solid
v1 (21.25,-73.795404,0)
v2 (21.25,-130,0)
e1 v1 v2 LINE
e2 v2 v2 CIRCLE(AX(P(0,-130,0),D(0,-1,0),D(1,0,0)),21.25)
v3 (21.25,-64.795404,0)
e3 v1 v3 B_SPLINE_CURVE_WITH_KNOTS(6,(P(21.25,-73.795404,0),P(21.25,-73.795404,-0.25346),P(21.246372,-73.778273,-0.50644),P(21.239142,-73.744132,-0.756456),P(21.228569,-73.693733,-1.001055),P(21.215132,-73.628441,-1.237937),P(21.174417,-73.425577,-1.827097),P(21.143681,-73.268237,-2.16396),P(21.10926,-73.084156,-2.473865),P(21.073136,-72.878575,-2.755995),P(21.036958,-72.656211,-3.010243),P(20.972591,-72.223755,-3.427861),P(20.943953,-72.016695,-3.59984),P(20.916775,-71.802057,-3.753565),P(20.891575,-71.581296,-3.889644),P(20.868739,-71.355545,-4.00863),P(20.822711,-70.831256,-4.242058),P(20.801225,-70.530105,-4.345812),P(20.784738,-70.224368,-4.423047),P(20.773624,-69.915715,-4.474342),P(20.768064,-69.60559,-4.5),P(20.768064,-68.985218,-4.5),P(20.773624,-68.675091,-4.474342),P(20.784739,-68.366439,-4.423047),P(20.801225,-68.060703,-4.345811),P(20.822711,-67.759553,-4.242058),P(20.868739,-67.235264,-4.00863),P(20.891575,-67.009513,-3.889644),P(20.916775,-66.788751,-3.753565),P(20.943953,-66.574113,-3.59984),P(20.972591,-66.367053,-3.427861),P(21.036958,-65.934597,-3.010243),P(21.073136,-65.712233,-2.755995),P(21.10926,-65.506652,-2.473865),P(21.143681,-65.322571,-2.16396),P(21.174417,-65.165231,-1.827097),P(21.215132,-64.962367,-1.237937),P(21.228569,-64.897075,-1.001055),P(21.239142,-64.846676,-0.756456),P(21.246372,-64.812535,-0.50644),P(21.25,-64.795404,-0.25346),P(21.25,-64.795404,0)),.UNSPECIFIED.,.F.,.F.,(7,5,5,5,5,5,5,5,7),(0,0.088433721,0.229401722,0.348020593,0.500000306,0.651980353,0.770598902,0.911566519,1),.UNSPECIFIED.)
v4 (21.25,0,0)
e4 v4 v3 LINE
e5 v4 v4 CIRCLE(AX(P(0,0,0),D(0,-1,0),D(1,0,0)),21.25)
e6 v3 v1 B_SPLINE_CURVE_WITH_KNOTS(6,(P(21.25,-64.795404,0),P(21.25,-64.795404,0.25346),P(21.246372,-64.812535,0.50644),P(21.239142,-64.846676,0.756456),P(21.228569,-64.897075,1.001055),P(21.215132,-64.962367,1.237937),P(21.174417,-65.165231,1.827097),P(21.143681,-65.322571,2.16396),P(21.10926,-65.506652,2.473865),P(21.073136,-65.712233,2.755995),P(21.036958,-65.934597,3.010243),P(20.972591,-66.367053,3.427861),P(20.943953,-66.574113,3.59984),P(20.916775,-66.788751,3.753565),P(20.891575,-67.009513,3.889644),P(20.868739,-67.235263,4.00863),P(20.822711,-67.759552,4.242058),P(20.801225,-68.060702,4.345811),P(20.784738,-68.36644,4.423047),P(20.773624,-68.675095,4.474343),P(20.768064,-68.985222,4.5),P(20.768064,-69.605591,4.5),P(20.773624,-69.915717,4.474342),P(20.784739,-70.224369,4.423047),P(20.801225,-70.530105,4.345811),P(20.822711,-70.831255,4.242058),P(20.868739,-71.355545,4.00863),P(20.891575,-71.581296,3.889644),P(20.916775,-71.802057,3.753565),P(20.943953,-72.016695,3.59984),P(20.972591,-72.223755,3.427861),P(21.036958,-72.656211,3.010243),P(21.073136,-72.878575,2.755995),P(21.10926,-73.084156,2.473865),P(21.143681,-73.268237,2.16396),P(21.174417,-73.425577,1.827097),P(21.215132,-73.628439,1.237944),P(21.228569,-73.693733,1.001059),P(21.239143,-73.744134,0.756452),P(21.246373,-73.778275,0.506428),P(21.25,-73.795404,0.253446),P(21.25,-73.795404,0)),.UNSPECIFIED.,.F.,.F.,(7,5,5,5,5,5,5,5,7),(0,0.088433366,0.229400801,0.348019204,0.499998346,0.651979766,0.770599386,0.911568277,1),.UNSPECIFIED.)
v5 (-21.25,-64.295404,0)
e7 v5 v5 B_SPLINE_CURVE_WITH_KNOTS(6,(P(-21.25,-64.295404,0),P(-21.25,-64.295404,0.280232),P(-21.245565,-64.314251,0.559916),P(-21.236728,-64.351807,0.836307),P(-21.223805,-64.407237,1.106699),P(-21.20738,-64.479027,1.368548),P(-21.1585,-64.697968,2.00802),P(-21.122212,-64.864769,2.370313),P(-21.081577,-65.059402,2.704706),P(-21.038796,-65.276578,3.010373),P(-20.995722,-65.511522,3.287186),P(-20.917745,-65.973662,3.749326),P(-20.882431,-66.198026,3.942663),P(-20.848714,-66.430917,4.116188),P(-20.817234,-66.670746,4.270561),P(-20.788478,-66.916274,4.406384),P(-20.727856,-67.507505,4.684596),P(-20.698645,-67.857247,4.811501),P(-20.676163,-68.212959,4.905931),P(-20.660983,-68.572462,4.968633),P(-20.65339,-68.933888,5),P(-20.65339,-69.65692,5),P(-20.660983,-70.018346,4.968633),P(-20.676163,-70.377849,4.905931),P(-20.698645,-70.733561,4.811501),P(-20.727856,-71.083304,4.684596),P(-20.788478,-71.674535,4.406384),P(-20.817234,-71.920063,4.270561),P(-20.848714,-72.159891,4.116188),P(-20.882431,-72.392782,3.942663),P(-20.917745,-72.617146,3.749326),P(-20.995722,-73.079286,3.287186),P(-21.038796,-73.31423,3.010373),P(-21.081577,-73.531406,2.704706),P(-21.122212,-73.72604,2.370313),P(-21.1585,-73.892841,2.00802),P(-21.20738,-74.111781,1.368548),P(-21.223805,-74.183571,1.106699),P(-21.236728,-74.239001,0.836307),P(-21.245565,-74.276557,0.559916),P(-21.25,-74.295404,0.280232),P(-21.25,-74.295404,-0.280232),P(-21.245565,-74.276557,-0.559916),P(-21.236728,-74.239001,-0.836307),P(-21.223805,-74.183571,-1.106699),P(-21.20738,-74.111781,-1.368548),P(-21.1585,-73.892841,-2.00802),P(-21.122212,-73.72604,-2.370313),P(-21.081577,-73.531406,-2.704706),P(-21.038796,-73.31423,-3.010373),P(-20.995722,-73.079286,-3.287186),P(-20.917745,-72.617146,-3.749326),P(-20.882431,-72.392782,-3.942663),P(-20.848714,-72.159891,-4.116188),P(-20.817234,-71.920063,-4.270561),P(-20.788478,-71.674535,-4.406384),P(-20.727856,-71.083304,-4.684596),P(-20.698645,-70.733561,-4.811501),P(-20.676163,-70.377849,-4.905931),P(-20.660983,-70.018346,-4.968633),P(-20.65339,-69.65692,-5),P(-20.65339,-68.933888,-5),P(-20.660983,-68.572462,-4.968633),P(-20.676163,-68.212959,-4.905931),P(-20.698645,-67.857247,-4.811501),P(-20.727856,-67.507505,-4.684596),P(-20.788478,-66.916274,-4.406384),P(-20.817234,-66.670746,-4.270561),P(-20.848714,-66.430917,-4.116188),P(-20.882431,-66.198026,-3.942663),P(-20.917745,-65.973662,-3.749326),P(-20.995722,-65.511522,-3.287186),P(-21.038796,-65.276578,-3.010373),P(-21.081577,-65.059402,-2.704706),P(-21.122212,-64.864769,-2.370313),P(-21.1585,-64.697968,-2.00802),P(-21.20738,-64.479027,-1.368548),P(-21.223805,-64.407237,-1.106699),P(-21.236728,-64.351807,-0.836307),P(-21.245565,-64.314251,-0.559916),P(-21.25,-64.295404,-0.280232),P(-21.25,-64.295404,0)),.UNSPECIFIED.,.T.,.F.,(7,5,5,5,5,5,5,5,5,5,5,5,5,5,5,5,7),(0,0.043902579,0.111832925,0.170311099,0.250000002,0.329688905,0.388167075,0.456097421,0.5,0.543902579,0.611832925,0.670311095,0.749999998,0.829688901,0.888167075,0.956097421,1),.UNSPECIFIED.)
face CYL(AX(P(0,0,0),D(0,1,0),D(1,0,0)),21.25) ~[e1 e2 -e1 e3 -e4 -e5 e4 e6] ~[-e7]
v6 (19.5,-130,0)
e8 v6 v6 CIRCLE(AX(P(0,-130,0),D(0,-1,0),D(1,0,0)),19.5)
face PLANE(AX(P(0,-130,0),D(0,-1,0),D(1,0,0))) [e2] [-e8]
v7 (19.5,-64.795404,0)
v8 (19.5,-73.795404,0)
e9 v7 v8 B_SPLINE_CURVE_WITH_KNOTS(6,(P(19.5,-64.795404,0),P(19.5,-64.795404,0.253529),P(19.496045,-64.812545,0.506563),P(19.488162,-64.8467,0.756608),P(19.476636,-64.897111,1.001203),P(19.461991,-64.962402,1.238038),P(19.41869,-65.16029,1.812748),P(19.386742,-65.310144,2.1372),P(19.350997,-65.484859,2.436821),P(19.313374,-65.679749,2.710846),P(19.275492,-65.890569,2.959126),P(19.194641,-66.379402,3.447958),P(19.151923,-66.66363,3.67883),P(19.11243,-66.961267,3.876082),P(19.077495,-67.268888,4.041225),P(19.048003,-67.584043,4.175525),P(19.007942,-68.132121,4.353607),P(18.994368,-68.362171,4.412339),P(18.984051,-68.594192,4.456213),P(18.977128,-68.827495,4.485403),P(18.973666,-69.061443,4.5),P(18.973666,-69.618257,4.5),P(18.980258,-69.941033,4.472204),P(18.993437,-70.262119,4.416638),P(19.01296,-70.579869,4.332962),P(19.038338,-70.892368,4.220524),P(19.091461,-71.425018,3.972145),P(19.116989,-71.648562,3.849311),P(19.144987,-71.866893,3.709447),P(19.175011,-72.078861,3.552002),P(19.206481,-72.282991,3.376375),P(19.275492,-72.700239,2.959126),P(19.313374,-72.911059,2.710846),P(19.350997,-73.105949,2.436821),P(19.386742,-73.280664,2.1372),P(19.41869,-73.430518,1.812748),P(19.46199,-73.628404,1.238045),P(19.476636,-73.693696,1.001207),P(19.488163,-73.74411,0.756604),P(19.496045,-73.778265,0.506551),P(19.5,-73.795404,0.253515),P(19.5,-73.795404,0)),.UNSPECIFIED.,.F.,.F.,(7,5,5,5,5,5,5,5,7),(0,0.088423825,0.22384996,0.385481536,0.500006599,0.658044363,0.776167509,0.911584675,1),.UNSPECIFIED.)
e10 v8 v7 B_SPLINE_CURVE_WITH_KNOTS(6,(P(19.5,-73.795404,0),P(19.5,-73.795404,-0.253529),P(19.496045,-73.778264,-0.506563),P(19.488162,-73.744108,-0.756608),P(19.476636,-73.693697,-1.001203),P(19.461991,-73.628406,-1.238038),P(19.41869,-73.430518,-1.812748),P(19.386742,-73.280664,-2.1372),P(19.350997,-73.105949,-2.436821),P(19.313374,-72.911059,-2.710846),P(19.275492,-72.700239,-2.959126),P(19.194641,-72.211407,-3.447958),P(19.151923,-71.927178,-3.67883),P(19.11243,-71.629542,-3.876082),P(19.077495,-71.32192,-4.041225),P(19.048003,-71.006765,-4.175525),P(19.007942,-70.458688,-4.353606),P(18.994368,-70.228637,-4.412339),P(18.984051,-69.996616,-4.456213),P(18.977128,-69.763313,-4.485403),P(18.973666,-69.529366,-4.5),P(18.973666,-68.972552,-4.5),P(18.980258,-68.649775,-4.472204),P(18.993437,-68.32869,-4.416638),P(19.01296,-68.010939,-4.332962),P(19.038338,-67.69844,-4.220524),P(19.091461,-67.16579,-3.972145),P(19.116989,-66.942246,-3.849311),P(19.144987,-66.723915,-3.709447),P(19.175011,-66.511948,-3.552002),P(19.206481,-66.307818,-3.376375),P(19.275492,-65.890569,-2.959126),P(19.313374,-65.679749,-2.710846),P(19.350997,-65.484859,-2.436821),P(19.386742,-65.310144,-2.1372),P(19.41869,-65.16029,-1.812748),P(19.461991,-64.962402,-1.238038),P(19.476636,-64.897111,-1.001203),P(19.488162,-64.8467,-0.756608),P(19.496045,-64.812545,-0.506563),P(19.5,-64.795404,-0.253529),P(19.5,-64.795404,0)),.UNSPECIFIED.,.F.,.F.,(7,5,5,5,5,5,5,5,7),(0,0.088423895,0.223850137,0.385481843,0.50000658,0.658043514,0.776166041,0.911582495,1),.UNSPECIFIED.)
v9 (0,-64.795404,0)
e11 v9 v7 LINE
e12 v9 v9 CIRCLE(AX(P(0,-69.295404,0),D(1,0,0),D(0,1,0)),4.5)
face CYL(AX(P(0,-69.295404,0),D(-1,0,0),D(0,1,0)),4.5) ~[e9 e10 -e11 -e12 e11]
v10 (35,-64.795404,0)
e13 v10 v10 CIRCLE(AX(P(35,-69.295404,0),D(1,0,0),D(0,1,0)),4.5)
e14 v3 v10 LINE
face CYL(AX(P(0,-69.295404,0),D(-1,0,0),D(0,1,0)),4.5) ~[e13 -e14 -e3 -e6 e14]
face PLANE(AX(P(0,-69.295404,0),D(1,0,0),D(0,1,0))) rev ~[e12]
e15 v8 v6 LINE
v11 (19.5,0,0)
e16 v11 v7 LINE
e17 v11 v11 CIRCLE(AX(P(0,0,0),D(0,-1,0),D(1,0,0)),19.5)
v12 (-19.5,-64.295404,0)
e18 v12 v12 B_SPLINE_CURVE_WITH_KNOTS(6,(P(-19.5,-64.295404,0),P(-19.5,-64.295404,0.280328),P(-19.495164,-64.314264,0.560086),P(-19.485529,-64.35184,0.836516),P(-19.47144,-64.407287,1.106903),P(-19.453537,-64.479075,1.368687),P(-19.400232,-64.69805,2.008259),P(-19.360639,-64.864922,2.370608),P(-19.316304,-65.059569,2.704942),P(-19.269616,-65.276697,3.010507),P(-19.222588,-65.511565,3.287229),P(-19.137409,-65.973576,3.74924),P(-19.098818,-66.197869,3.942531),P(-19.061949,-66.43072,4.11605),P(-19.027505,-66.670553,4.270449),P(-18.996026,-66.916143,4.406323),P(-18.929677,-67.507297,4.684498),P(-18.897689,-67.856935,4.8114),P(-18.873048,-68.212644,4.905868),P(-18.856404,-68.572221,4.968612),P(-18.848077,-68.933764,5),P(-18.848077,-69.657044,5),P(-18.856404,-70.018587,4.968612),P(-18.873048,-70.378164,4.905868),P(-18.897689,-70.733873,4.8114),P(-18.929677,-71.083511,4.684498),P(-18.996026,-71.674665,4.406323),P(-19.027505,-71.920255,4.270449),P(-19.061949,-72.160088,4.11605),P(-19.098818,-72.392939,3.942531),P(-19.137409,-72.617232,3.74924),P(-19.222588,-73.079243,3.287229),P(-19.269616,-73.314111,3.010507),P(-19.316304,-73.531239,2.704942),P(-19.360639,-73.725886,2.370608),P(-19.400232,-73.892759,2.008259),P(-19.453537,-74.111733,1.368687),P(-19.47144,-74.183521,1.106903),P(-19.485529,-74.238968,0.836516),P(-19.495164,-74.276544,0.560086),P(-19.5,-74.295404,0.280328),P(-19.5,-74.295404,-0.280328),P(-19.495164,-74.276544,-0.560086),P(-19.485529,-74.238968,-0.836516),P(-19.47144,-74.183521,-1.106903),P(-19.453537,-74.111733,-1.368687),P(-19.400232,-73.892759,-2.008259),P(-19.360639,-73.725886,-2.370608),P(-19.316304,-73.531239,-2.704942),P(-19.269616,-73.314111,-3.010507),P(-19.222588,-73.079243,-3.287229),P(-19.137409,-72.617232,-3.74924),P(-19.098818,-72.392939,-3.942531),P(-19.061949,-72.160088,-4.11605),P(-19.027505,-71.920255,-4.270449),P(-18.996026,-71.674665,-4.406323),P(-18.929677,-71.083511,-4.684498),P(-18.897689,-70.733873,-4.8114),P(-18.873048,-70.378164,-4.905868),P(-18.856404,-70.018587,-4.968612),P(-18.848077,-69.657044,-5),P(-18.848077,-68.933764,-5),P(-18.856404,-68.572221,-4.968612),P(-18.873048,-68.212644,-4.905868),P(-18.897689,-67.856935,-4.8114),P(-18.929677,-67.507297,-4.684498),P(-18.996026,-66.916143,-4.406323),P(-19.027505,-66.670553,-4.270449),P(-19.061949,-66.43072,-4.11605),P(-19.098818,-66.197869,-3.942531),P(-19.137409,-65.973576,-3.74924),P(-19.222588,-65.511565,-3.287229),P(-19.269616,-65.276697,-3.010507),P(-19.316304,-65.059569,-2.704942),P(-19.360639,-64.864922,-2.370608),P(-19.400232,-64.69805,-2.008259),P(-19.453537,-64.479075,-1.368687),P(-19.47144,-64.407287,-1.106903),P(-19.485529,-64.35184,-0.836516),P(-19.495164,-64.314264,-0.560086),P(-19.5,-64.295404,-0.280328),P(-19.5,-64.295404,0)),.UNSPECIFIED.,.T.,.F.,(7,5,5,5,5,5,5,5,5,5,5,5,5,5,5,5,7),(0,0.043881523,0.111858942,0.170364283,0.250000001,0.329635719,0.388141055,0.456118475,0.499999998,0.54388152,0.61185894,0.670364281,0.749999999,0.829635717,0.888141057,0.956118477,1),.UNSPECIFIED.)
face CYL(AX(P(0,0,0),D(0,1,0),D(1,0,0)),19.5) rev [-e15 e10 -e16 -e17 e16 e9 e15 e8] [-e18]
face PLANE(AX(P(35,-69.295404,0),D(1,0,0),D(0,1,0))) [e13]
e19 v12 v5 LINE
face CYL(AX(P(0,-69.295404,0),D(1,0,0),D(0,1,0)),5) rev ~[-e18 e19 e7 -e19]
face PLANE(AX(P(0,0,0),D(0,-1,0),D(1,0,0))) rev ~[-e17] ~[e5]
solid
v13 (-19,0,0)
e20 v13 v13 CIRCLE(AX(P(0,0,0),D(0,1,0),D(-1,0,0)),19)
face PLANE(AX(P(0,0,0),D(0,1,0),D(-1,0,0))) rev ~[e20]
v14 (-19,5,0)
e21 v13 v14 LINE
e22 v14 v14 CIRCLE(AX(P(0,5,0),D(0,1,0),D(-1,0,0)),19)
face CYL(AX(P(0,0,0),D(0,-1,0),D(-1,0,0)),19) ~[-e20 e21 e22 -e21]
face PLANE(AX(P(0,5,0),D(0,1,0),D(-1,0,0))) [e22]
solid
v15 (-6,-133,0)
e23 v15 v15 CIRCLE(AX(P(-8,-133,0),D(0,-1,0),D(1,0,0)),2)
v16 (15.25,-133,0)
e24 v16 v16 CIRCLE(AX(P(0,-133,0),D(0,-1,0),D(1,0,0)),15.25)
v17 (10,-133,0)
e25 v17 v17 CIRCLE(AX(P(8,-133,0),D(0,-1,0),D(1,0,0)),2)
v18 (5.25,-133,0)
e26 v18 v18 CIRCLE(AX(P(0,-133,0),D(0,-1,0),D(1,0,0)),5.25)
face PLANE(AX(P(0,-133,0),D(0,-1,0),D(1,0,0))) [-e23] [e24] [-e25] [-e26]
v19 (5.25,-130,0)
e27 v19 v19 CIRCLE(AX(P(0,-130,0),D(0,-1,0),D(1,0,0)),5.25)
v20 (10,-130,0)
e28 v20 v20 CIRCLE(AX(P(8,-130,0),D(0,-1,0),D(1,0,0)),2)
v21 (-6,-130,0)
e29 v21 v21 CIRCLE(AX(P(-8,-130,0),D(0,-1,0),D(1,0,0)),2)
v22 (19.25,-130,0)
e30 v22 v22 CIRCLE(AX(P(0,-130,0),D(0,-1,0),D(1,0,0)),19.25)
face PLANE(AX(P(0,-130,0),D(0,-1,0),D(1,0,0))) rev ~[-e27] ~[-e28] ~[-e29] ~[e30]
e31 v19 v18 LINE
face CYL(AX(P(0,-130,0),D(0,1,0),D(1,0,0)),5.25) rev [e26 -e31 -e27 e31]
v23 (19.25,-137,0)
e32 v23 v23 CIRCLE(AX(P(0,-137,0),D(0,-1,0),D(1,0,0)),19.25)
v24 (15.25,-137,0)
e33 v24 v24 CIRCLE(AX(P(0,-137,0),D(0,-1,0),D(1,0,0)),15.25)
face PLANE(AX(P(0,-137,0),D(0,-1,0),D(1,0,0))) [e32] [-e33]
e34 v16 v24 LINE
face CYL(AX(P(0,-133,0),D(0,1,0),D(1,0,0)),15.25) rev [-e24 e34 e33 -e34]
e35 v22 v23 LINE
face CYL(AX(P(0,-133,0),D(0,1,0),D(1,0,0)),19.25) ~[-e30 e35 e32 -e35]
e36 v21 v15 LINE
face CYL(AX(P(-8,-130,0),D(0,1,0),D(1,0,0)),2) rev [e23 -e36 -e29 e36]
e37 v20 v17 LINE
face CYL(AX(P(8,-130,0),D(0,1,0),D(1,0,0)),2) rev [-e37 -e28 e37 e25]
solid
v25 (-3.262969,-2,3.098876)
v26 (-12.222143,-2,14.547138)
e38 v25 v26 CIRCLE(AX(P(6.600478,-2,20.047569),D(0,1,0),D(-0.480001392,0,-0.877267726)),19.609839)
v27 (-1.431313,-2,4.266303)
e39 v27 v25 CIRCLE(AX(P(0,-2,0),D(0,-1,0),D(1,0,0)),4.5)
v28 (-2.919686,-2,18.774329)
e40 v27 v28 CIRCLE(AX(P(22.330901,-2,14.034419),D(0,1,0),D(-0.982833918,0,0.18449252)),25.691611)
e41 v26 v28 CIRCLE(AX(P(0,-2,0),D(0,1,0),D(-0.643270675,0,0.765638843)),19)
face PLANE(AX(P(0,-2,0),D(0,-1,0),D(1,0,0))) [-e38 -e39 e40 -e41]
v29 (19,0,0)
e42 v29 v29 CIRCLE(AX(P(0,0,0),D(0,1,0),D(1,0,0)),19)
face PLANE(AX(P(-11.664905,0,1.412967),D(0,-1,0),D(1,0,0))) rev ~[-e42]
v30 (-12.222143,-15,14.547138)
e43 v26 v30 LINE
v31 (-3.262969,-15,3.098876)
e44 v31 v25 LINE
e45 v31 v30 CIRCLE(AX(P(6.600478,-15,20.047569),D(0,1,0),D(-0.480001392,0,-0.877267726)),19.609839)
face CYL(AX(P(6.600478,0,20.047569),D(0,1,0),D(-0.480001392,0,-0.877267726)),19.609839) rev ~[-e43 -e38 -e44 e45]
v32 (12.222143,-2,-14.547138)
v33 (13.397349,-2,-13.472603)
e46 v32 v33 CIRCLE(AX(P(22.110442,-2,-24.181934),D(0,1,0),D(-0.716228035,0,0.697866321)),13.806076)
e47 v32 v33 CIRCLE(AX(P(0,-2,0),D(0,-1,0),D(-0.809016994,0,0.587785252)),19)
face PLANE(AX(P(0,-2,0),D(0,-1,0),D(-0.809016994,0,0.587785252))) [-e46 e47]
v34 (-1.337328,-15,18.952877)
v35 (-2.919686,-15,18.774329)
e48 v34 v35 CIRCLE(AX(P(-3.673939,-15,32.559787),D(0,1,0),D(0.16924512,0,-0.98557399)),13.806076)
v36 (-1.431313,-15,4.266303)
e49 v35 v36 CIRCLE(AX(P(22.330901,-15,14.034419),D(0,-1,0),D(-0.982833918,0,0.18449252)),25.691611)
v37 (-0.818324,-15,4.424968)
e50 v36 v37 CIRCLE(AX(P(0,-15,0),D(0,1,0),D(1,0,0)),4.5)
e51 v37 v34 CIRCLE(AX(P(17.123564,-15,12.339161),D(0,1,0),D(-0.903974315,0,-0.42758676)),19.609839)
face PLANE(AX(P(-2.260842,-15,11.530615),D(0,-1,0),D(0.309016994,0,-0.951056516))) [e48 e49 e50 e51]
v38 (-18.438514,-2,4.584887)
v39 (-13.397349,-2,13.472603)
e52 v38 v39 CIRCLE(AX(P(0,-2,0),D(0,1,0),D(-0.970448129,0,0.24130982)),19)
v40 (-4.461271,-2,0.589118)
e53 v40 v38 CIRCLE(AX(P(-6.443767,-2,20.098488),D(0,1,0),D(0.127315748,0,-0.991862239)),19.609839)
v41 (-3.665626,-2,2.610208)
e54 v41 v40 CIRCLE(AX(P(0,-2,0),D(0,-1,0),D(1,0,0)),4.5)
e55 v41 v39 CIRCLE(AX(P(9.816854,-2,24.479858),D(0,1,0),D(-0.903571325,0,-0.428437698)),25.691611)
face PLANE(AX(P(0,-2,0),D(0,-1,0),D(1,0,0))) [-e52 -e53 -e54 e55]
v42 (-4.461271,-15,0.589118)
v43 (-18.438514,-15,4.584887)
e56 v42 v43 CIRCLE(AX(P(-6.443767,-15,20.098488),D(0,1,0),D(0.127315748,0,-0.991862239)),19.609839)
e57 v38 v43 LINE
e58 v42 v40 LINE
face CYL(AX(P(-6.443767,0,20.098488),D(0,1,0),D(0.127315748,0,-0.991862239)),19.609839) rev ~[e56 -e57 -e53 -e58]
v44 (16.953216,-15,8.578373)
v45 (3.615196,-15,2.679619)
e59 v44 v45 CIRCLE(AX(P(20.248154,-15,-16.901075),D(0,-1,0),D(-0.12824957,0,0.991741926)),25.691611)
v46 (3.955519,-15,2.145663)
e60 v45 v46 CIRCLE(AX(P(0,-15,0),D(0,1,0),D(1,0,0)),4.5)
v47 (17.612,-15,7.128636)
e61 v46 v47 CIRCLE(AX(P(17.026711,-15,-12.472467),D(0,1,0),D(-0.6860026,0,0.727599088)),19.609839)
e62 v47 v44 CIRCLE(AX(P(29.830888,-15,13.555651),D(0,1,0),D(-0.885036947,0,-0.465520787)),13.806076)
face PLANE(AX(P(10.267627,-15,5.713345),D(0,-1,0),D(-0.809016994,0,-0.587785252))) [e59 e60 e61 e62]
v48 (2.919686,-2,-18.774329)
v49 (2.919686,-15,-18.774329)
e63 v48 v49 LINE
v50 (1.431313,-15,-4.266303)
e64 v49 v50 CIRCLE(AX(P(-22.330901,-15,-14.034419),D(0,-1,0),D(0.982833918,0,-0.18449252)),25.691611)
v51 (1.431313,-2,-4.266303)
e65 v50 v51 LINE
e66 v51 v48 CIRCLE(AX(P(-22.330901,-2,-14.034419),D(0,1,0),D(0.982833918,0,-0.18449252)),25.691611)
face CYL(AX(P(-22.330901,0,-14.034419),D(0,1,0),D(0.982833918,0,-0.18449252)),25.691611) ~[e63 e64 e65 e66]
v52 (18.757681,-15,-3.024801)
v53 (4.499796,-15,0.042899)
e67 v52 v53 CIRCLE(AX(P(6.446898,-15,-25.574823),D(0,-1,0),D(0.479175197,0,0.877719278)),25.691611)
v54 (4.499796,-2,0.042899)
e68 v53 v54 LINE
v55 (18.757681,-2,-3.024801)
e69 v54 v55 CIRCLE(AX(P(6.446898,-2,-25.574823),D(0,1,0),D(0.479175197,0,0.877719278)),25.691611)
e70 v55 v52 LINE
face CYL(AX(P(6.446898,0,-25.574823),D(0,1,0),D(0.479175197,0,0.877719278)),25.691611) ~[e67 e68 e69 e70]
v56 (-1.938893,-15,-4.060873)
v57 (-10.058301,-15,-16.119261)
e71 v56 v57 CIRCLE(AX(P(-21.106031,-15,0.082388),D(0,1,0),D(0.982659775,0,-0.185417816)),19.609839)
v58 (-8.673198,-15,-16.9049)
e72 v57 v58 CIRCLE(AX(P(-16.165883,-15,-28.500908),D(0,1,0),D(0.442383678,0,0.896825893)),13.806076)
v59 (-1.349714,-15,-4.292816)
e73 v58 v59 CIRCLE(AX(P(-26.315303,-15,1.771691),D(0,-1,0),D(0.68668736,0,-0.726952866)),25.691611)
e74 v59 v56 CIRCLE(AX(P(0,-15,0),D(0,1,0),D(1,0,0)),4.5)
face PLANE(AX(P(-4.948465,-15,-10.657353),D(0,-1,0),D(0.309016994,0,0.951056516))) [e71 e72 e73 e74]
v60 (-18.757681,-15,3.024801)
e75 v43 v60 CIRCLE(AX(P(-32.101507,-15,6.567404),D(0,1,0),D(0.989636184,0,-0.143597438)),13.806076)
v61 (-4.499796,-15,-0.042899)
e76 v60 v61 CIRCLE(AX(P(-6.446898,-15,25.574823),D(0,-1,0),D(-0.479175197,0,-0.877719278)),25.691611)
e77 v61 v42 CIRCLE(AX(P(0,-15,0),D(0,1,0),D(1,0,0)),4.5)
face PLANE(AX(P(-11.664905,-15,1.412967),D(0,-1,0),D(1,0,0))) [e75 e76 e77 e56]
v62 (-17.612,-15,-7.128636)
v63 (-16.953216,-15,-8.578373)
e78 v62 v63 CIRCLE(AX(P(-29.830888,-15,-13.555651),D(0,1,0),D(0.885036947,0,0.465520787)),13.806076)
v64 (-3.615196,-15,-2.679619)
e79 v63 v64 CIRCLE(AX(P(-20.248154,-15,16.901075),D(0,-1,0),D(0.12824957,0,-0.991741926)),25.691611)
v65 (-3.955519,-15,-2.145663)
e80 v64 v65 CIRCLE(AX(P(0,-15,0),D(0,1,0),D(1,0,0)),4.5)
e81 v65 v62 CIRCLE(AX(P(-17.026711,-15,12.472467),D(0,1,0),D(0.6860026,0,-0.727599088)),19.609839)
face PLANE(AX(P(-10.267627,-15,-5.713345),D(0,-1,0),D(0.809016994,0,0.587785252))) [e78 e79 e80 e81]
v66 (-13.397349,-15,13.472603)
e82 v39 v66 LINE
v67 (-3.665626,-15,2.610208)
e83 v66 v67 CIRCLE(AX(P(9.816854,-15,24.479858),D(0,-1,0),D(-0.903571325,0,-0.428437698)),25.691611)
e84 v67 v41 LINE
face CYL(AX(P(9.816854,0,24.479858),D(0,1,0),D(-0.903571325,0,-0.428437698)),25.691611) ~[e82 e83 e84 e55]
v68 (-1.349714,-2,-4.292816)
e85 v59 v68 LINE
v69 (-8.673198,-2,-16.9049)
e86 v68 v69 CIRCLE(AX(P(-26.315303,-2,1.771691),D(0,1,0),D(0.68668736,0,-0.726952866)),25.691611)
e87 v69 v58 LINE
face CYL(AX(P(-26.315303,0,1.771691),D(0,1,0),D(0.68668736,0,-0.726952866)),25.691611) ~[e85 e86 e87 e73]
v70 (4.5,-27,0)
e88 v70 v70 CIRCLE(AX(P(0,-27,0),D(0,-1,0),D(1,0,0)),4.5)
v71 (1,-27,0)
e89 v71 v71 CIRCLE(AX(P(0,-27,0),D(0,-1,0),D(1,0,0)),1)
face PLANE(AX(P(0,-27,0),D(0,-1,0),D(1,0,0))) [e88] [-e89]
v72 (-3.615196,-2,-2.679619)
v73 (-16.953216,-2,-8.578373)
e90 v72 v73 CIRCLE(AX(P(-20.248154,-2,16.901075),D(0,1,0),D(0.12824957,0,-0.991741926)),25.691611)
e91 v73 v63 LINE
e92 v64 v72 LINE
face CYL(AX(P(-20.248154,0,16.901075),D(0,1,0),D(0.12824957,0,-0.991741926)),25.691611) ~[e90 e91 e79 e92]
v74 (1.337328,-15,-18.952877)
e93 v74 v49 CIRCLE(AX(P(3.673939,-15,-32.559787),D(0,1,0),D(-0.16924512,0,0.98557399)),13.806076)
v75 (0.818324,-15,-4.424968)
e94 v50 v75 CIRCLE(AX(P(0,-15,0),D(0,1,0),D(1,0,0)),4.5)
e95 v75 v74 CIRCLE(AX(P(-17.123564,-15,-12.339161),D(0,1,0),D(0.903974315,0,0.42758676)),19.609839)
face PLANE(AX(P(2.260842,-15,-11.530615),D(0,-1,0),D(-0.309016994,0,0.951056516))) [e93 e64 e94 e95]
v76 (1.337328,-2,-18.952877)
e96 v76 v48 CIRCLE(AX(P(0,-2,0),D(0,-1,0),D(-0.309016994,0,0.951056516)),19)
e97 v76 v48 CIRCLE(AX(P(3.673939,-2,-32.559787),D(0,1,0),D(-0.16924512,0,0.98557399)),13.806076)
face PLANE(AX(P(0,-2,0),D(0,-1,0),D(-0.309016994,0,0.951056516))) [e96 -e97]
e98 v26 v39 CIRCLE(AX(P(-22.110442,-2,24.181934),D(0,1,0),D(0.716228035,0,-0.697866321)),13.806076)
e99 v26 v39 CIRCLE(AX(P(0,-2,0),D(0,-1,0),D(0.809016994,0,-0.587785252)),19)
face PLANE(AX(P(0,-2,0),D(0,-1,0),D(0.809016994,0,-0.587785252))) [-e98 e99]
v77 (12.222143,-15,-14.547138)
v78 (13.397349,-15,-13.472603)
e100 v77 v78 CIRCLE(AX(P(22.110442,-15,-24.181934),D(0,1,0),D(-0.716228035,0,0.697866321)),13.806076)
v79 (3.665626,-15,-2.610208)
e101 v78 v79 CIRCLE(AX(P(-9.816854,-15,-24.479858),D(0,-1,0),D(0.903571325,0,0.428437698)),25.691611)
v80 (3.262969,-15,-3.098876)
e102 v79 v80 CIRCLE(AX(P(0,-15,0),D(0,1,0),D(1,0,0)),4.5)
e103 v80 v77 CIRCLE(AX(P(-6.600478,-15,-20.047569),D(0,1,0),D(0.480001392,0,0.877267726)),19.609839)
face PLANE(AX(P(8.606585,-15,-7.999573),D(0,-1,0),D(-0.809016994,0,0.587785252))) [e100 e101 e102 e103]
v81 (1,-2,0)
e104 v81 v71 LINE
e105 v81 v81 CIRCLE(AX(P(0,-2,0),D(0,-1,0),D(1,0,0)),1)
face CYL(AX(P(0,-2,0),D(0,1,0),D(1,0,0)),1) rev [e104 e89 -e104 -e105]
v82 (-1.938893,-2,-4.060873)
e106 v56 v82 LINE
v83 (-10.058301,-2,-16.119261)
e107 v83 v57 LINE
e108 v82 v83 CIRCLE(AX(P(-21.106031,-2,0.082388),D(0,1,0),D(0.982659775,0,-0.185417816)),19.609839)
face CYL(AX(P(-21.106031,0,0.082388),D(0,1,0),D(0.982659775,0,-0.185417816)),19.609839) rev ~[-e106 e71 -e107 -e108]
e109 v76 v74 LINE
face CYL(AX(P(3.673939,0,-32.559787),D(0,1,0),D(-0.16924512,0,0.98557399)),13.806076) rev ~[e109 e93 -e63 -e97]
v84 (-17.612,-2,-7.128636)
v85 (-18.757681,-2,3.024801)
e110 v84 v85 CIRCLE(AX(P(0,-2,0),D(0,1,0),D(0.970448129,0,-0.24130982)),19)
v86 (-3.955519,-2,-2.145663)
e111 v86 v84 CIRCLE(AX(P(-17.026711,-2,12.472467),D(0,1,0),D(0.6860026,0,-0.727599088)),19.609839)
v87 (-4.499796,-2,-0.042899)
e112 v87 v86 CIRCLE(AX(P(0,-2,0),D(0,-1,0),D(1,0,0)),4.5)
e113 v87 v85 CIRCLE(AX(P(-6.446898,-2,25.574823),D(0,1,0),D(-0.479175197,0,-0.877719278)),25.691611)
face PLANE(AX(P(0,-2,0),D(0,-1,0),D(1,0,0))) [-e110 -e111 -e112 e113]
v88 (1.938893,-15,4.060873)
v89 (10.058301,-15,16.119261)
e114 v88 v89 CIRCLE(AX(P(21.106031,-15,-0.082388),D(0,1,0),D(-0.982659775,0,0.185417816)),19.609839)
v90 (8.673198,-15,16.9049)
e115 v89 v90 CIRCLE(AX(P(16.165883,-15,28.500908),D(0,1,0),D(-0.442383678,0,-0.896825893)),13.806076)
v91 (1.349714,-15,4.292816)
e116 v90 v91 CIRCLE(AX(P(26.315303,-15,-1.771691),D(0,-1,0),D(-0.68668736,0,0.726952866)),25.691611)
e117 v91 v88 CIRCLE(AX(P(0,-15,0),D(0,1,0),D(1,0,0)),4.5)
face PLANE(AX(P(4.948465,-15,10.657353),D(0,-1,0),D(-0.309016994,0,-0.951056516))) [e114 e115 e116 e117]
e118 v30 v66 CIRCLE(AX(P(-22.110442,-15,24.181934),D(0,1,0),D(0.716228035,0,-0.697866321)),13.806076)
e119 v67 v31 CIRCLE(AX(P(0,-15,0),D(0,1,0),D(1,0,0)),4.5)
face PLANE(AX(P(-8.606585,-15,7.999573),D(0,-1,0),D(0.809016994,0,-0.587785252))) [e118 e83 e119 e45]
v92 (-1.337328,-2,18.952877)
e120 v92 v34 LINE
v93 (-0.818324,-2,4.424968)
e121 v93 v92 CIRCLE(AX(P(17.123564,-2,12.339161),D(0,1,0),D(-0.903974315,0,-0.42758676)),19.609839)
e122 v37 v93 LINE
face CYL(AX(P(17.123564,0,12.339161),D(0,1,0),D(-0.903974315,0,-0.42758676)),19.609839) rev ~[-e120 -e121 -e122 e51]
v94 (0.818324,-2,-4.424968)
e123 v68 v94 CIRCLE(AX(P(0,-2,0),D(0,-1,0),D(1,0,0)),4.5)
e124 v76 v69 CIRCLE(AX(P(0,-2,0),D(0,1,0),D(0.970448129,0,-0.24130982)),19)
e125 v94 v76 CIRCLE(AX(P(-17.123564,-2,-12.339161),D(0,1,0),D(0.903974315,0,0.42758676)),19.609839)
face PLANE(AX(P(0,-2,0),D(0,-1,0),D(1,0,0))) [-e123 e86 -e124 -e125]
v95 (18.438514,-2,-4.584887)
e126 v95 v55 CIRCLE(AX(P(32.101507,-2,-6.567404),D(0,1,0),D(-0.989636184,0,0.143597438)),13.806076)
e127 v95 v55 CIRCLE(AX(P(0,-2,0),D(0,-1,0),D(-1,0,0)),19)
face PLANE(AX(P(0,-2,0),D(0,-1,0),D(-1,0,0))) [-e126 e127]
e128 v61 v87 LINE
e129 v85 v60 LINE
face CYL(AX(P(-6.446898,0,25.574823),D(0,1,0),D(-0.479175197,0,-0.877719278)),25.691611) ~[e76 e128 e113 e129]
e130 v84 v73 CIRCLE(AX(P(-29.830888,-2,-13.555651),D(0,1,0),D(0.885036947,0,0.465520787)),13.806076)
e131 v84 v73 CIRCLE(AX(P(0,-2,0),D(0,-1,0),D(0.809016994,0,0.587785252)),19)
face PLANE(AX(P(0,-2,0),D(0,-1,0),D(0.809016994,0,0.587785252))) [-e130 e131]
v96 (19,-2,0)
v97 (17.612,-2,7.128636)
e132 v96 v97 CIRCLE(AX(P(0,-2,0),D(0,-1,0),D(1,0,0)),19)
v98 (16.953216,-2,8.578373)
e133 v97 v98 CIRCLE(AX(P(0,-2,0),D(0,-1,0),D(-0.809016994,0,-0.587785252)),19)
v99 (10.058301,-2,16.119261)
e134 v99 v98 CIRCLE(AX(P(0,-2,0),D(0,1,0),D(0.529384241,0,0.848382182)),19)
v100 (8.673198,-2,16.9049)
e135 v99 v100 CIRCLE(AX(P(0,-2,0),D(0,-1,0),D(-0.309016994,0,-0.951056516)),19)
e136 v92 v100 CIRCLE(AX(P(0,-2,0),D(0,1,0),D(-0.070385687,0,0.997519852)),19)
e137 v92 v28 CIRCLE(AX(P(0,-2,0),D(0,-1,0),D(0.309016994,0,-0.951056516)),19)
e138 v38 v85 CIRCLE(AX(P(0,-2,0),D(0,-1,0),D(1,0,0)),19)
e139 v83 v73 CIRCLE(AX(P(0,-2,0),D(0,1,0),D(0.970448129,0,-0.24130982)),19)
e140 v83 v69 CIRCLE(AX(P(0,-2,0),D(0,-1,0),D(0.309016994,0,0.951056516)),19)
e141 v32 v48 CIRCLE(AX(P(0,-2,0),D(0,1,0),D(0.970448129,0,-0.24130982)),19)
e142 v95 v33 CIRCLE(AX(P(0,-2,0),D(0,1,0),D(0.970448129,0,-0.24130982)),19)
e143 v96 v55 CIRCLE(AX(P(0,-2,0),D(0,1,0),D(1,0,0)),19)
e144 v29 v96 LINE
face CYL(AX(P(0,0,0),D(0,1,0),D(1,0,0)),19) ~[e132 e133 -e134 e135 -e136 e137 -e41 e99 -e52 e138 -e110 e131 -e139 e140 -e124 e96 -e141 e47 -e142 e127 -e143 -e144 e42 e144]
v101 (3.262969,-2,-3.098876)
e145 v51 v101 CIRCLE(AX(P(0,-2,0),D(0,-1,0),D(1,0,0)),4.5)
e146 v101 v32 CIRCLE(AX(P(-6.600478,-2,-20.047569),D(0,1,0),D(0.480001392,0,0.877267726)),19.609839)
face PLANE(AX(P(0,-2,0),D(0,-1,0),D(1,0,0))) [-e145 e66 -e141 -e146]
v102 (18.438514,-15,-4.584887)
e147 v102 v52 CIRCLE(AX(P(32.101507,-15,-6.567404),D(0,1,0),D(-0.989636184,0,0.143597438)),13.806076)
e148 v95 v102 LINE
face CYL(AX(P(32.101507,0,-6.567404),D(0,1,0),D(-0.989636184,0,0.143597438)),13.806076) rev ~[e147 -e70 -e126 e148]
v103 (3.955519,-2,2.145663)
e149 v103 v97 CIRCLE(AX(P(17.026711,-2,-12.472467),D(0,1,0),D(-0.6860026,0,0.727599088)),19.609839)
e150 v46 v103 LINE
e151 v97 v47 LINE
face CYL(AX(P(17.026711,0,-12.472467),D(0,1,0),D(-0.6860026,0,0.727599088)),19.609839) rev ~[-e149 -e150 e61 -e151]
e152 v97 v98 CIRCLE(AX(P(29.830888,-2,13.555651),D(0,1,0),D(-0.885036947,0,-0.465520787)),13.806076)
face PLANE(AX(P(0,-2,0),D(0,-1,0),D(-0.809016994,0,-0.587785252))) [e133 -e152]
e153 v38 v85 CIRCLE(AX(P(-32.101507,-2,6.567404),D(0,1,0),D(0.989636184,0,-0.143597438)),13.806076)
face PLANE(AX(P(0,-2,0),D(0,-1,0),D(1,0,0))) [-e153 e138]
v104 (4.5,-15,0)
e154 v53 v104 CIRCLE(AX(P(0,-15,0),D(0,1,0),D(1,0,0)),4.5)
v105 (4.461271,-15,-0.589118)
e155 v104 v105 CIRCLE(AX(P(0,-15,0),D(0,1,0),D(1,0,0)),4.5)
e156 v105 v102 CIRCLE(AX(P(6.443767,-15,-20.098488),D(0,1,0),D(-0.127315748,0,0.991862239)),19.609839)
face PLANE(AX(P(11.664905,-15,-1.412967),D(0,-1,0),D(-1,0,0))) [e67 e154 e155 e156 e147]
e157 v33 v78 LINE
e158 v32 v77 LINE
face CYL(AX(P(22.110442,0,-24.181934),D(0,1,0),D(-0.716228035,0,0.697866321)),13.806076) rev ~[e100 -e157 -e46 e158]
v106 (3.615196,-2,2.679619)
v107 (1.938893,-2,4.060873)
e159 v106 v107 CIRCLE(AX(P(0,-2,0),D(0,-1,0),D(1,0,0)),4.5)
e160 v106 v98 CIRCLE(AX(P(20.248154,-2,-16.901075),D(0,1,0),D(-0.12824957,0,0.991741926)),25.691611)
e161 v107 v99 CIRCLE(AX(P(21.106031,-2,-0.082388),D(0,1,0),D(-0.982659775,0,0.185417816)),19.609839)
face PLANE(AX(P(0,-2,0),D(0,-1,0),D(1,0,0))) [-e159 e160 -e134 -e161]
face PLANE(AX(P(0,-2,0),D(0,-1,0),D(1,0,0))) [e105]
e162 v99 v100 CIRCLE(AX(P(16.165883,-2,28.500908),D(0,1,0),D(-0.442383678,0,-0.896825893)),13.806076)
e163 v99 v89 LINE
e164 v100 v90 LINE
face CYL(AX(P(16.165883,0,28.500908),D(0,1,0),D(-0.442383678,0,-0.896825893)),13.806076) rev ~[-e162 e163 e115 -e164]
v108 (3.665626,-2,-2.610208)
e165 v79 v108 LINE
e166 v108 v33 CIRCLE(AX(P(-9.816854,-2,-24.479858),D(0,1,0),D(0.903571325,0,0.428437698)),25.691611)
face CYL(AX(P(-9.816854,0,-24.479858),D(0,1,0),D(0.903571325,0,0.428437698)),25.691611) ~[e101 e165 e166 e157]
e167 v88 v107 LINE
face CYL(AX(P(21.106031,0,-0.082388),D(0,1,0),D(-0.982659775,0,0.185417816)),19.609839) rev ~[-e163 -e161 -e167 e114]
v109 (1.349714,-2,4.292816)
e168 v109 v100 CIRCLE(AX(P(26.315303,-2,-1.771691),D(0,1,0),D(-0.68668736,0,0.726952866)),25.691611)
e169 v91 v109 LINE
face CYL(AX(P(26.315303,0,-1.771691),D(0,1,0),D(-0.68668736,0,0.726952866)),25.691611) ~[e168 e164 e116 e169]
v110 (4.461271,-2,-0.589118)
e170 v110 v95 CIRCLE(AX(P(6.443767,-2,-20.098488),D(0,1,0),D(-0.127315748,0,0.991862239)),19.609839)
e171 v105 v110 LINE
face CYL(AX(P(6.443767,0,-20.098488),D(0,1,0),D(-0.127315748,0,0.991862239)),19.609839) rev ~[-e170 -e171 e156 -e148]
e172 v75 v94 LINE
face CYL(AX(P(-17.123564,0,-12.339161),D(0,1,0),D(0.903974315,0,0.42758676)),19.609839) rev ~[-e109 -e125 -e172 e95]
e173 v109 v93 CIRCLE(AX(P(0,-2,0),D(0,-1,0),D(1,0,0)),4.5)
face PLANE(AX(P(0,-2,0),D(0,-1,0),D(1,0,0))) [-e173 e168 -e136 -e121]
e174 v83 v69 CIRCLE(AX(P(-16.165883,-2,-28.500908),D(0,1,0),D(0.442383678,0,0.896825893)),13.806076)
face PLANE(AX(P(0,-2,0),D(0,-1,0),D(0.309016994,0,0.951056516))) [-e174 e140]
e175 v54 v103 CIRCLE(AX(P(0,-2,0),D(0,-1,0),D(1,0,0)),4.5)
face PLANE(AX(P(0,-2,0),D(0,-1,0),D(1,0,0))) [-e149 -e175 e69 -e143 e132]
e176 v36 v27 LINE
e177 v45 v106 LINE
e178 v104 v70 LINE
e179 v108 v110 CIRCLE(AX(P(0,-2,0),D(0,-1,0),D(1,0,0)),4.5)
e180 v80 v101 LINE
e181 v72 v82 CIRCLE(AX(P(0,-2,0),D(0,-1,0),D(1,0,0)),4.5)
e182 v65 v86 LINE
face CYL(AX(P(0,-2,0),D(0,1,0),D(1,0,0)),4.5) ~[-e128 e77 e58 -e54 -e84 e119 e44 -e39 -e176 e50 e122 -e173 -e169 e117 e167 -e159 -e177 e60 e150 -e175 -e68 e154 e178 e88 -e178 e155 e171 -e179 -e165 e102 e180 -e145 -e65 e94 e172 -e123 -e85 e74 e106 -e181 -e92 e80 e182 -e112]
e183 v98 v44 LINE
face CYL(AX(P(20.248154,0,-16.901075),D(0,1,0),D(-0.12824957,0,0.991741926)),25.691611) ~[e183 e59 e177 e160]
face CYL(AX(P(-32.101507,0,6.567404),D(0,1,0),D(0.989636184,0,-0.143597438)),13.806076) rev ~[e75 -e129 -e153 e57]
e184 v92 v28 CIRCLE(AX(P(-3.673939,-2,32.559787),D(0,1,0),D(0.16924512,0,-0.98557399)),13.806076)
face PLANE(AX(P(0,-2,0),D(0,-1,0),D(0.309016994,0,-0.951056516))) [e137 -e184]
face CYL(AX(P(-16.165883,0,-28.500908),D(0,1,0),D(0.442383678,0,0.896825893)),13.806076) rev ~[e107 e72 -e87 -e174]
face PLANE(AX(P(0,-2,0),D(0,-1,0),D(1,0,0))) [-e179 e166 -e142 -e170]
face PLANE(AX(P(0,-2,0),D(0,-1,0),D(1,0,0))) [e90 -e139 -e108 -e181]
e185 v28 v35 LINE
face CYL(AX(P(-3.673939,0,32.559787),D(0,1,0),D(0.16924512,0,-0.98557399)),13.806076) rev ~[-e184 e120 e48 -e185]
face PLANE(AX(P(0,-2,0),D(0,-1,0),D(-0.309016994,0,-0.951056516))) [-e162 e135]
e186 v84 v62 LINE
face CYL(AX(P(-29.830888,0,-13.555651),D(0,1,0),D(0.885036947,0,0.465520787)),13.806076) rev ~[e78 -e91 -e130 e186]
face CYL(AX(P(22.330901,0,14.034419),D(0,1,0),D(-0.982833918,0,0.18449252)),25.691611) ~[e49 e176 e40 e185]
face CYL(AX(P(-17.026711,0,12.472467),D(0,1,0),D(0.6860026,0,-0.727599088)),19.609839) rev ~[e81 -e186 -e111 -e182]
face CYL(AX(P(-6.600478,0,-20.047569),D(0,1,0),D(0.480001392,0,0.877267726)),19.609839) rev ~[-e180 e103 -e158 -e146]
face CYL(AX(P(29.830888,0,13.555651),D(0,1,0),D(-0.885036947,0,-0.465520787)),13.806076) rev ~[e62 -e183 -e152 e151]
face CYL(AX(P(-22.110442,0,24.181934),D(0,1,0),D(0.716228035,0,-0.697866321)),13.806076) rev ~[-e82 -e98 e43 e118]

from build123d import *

# Parameters (mm, degrees)
F0_R      = 21.25
F0_R_2    = 19.5
F1_DEPTH  = 130
F2_R      = 19
F3_DEPTH  = 2
F6_DEPTH  = 15
F7_COUNT  = 10
F8_R      = 4.5
F8_R_2    = 1
F9_DEPTH  = 25
F11_R     = 13.5
F11_R_2   = 1
F11_R_3   = 5
F12_DEPTH = 2
F13_R     = 19
F14_DEPTH = 5
F16_R     = 19.25
F16_R_2   = 2
F16_R_3   = 5.25
F17_DEPTH = 3
F18_R     = 19.25
F18_R_2   = 15.25
F19_DEPTH = 4
F20_R     = 5
F21_DEPTH = 25
F23_R     = 4.5
F23_R_2   = 3.5
F22_R     = 4.5
F24_DEPTH = 35


with BuildPart() as f1:
    # F0 (on Front) → F1 (new body)
    with BuildSketch(Plane.XZ):
        Circle(F0_R)
        Circle(F0_R_2, mode=Mode.SUBTRACT)
    extrude(amount=F1_DEPTH)

    # F20 (on Right) → F21 (cut)
    with BuildSketch(Plane.YZ):
        with Locations((-69.295404115, 0)):
            Circle(F20_R)
    extrude(amount=-F21_DEPTH, mode=Mode.SUBTRACT)

    # F23 (on Right) + F22 (on Right) → F24 (join)
    with BuildSketch(Plane.YZ):
        with Locations((-69.295404115, 0)):
            Circle(F23_R)
        with Locations((-69.295404115, 0)):
            Circle(F23_R_2, mode=Mode.SUBTRACT)
    with BuildSketch(Plane.YZ):
        with Locations((-69.295404115, 0)):
            Circle(F22_R)
    extrude(amount=F24_DEPTH)


with BuildPart() as f3:
    # F2 (on Front) → F3 (new body)
    with BuildSketch(Plane.XZ):
        Circle(F2_R)
    extrude(amount=F3_DEPTH)

    # F5 (on Front) → F6 (join)
    with BuildSketch(Plane.XZ):
        with BuildLine():
            ThreePointArc((-4, 0), (-4.0025921682, 0.3264822232), (-3.9471254766, 0.648228719))
            ThreePointArc((-3.9471254766, 0.648228719), (-11.584566807, 1.1744826423), (-18.4385144491, 4.5848865755))
            ThreePointArc((-18.4385144491, 4.5848865755), (-18.5755861543, 3.8002382146), (-18.7576805779, 3.0248007101))
            ThreePointArc((-18.7576805779, 3.0248007101), (-11.6055227609, 0.4064407121), (-4, 0))
        make_face()
        with BuildLine():
            ThreePointArc((-4, 0), (-3.9867594551, 0.3251907853), (-3.9471254766, 0.648228719))
            ThreePointArc((-3.9471254766, 0.648228719), (-4.0025921682, 0.3264822232), (-4, 0))
        make_face()
    extrude(amount=F6_DEPTH)


with BuildPart() as f7_1:
    # F7: instance of F3
    add(f3.part.rotate(Axis((0, 8.3387196064, 0), (0, 1, 0)), 1 * 360 / F7_COUNT))


with BuildPart() as f7_2:
    # F7: instance of F3
    add(f3.part.rotate(Axis((0, 8.3387196064, 0), (0, 1, 0)), 2 * 360 / F7_COUNT))


with BuildPart() as f7_3:
    # F7: instance of F3
    add(f3.part.rotate(Axis((0, 8.3387196064, 0), (0, 1, 0)), 3 * 360 / F7_COUNT))


with BuildPart() as f7_4:
    # F7: instance of F3
    add(f3.part.rotate(Axis((0, 8.3387196064, 0), (0, 1, 0)), 4 * 360 / F7_COUNT))


with BuildPart() as f7_5:
    # F7: instance of F3
    add(f3.part.rotate(Axis((0, 8.3387196064, 0), (0, 1, 0)), 5 * 360 / F7_COUNT))


with BuildPart() as f7_6:
    # F7: instance of F3
    add(f3.part.rotate(Axis((0, 8.3387196064, 0), (0, 1, 0)), 6 * 360 / F7_COUNT))


with BuildPart() as f7_7:
    # F7: instance of F3
    add(f3.part.rotate(Axis((0, 8.3387196064, 0), (0, 1, 0)), 7 * 360 / F7_COUNT))


with BuildPart() as f7_8:
    # F7: instance of F3
    add(f3.part.rotate(Axis((0, 8.3387196064, 0), (0, 1, 0)), 8 * 360 / F7_COUNT))


with BuildPart() as f7_9:
    # F7: instance of F3
    add(f3.part.rotate(Axis((0, 8.3387196064, 0), (0, 1, 0)), 9 * 360 / F7_COUNT))


with BuildPart() as f3_1:
    add(f3.part)

    add(f7_1.part)  # F9 merges F7_1

    add(f7_2.part)  # F9 merges F7_2

    add(f7_3.part)  # F9 merges F7_3

    add(f7_4.part)  # F9 merges F7_4

    add(f7_5.part)  # F9 merges F7_5

    add(f7_6.part)  # F9 merges F7_6

    add(f7_7.part)  # F9 merges F7_7

    add(f7_8.part)  # F9 merges F7_8

    add(f7_9.part)  # F9 merges F7_9
    # F8 (on face) → F9 (join)
    with BuildSketch(Plane.XZ.offset(2)):
        Circle(F8_R)
        Circle(F8_R_2, mode=Mode.SUBTRACT)
    extrude(amount=F9_DEPTH)


with BuildPart() as f12:
    # F11 (on offset) → F12 (new body)
    with BuildSketch(Plane.XZ.offset(32)):
        Circle(F11_R)
        with Locations((-8, 0)):
            Circle(F11_R_2, mode=Mode.SUBTRACT)
        Circle(F11_R_3, mode=Mode.SUBTRACT)
        with Locations((8, 0)):
            Circle(F11_R_2, mode=Mode.SUBTRACT)
    extrude(amount=F12_DEPTH)


with BuildPart() as f14:
    # F13 (on face) → F14 (new body)
    with BuildSketch(Plane(origin=(0, 0, 0), x_dir=(-1, 0, 0), z_dir=(0, 1, 0))):
        Circle(F13_R)
    extrude(amount=F14_DEPTH)


with BuildPart() as f17:
    # F16 (on face) → F17 (new body)
    with BuildSketch(Plane.XZ.offset(130)):
        Circle(F16_R)
        with Locations((-8, 0)):
            Circle(F16_R_2, mode=Mode.SUBTRACT)
        Circle(F16_R_3, mode=Mode.SUBTRACT)
        with Locations((8, 0)):
            Circle(F16_R_2, mode=Mode.SUBTRACT)
    extrude(amount=F17_DEPTH)

    # F18 (on face) → F19 (join)
    with BuildSketch(Plane.XZ.offset(133)):
        Circle(F18_R)
        Circle(F18_R_2, mode=Mode.SUBTRACT)
    extrude(amount=F19_DEPTH)


solid = Compound([f1.part, f3_1.part, f14.part, f17.part])
